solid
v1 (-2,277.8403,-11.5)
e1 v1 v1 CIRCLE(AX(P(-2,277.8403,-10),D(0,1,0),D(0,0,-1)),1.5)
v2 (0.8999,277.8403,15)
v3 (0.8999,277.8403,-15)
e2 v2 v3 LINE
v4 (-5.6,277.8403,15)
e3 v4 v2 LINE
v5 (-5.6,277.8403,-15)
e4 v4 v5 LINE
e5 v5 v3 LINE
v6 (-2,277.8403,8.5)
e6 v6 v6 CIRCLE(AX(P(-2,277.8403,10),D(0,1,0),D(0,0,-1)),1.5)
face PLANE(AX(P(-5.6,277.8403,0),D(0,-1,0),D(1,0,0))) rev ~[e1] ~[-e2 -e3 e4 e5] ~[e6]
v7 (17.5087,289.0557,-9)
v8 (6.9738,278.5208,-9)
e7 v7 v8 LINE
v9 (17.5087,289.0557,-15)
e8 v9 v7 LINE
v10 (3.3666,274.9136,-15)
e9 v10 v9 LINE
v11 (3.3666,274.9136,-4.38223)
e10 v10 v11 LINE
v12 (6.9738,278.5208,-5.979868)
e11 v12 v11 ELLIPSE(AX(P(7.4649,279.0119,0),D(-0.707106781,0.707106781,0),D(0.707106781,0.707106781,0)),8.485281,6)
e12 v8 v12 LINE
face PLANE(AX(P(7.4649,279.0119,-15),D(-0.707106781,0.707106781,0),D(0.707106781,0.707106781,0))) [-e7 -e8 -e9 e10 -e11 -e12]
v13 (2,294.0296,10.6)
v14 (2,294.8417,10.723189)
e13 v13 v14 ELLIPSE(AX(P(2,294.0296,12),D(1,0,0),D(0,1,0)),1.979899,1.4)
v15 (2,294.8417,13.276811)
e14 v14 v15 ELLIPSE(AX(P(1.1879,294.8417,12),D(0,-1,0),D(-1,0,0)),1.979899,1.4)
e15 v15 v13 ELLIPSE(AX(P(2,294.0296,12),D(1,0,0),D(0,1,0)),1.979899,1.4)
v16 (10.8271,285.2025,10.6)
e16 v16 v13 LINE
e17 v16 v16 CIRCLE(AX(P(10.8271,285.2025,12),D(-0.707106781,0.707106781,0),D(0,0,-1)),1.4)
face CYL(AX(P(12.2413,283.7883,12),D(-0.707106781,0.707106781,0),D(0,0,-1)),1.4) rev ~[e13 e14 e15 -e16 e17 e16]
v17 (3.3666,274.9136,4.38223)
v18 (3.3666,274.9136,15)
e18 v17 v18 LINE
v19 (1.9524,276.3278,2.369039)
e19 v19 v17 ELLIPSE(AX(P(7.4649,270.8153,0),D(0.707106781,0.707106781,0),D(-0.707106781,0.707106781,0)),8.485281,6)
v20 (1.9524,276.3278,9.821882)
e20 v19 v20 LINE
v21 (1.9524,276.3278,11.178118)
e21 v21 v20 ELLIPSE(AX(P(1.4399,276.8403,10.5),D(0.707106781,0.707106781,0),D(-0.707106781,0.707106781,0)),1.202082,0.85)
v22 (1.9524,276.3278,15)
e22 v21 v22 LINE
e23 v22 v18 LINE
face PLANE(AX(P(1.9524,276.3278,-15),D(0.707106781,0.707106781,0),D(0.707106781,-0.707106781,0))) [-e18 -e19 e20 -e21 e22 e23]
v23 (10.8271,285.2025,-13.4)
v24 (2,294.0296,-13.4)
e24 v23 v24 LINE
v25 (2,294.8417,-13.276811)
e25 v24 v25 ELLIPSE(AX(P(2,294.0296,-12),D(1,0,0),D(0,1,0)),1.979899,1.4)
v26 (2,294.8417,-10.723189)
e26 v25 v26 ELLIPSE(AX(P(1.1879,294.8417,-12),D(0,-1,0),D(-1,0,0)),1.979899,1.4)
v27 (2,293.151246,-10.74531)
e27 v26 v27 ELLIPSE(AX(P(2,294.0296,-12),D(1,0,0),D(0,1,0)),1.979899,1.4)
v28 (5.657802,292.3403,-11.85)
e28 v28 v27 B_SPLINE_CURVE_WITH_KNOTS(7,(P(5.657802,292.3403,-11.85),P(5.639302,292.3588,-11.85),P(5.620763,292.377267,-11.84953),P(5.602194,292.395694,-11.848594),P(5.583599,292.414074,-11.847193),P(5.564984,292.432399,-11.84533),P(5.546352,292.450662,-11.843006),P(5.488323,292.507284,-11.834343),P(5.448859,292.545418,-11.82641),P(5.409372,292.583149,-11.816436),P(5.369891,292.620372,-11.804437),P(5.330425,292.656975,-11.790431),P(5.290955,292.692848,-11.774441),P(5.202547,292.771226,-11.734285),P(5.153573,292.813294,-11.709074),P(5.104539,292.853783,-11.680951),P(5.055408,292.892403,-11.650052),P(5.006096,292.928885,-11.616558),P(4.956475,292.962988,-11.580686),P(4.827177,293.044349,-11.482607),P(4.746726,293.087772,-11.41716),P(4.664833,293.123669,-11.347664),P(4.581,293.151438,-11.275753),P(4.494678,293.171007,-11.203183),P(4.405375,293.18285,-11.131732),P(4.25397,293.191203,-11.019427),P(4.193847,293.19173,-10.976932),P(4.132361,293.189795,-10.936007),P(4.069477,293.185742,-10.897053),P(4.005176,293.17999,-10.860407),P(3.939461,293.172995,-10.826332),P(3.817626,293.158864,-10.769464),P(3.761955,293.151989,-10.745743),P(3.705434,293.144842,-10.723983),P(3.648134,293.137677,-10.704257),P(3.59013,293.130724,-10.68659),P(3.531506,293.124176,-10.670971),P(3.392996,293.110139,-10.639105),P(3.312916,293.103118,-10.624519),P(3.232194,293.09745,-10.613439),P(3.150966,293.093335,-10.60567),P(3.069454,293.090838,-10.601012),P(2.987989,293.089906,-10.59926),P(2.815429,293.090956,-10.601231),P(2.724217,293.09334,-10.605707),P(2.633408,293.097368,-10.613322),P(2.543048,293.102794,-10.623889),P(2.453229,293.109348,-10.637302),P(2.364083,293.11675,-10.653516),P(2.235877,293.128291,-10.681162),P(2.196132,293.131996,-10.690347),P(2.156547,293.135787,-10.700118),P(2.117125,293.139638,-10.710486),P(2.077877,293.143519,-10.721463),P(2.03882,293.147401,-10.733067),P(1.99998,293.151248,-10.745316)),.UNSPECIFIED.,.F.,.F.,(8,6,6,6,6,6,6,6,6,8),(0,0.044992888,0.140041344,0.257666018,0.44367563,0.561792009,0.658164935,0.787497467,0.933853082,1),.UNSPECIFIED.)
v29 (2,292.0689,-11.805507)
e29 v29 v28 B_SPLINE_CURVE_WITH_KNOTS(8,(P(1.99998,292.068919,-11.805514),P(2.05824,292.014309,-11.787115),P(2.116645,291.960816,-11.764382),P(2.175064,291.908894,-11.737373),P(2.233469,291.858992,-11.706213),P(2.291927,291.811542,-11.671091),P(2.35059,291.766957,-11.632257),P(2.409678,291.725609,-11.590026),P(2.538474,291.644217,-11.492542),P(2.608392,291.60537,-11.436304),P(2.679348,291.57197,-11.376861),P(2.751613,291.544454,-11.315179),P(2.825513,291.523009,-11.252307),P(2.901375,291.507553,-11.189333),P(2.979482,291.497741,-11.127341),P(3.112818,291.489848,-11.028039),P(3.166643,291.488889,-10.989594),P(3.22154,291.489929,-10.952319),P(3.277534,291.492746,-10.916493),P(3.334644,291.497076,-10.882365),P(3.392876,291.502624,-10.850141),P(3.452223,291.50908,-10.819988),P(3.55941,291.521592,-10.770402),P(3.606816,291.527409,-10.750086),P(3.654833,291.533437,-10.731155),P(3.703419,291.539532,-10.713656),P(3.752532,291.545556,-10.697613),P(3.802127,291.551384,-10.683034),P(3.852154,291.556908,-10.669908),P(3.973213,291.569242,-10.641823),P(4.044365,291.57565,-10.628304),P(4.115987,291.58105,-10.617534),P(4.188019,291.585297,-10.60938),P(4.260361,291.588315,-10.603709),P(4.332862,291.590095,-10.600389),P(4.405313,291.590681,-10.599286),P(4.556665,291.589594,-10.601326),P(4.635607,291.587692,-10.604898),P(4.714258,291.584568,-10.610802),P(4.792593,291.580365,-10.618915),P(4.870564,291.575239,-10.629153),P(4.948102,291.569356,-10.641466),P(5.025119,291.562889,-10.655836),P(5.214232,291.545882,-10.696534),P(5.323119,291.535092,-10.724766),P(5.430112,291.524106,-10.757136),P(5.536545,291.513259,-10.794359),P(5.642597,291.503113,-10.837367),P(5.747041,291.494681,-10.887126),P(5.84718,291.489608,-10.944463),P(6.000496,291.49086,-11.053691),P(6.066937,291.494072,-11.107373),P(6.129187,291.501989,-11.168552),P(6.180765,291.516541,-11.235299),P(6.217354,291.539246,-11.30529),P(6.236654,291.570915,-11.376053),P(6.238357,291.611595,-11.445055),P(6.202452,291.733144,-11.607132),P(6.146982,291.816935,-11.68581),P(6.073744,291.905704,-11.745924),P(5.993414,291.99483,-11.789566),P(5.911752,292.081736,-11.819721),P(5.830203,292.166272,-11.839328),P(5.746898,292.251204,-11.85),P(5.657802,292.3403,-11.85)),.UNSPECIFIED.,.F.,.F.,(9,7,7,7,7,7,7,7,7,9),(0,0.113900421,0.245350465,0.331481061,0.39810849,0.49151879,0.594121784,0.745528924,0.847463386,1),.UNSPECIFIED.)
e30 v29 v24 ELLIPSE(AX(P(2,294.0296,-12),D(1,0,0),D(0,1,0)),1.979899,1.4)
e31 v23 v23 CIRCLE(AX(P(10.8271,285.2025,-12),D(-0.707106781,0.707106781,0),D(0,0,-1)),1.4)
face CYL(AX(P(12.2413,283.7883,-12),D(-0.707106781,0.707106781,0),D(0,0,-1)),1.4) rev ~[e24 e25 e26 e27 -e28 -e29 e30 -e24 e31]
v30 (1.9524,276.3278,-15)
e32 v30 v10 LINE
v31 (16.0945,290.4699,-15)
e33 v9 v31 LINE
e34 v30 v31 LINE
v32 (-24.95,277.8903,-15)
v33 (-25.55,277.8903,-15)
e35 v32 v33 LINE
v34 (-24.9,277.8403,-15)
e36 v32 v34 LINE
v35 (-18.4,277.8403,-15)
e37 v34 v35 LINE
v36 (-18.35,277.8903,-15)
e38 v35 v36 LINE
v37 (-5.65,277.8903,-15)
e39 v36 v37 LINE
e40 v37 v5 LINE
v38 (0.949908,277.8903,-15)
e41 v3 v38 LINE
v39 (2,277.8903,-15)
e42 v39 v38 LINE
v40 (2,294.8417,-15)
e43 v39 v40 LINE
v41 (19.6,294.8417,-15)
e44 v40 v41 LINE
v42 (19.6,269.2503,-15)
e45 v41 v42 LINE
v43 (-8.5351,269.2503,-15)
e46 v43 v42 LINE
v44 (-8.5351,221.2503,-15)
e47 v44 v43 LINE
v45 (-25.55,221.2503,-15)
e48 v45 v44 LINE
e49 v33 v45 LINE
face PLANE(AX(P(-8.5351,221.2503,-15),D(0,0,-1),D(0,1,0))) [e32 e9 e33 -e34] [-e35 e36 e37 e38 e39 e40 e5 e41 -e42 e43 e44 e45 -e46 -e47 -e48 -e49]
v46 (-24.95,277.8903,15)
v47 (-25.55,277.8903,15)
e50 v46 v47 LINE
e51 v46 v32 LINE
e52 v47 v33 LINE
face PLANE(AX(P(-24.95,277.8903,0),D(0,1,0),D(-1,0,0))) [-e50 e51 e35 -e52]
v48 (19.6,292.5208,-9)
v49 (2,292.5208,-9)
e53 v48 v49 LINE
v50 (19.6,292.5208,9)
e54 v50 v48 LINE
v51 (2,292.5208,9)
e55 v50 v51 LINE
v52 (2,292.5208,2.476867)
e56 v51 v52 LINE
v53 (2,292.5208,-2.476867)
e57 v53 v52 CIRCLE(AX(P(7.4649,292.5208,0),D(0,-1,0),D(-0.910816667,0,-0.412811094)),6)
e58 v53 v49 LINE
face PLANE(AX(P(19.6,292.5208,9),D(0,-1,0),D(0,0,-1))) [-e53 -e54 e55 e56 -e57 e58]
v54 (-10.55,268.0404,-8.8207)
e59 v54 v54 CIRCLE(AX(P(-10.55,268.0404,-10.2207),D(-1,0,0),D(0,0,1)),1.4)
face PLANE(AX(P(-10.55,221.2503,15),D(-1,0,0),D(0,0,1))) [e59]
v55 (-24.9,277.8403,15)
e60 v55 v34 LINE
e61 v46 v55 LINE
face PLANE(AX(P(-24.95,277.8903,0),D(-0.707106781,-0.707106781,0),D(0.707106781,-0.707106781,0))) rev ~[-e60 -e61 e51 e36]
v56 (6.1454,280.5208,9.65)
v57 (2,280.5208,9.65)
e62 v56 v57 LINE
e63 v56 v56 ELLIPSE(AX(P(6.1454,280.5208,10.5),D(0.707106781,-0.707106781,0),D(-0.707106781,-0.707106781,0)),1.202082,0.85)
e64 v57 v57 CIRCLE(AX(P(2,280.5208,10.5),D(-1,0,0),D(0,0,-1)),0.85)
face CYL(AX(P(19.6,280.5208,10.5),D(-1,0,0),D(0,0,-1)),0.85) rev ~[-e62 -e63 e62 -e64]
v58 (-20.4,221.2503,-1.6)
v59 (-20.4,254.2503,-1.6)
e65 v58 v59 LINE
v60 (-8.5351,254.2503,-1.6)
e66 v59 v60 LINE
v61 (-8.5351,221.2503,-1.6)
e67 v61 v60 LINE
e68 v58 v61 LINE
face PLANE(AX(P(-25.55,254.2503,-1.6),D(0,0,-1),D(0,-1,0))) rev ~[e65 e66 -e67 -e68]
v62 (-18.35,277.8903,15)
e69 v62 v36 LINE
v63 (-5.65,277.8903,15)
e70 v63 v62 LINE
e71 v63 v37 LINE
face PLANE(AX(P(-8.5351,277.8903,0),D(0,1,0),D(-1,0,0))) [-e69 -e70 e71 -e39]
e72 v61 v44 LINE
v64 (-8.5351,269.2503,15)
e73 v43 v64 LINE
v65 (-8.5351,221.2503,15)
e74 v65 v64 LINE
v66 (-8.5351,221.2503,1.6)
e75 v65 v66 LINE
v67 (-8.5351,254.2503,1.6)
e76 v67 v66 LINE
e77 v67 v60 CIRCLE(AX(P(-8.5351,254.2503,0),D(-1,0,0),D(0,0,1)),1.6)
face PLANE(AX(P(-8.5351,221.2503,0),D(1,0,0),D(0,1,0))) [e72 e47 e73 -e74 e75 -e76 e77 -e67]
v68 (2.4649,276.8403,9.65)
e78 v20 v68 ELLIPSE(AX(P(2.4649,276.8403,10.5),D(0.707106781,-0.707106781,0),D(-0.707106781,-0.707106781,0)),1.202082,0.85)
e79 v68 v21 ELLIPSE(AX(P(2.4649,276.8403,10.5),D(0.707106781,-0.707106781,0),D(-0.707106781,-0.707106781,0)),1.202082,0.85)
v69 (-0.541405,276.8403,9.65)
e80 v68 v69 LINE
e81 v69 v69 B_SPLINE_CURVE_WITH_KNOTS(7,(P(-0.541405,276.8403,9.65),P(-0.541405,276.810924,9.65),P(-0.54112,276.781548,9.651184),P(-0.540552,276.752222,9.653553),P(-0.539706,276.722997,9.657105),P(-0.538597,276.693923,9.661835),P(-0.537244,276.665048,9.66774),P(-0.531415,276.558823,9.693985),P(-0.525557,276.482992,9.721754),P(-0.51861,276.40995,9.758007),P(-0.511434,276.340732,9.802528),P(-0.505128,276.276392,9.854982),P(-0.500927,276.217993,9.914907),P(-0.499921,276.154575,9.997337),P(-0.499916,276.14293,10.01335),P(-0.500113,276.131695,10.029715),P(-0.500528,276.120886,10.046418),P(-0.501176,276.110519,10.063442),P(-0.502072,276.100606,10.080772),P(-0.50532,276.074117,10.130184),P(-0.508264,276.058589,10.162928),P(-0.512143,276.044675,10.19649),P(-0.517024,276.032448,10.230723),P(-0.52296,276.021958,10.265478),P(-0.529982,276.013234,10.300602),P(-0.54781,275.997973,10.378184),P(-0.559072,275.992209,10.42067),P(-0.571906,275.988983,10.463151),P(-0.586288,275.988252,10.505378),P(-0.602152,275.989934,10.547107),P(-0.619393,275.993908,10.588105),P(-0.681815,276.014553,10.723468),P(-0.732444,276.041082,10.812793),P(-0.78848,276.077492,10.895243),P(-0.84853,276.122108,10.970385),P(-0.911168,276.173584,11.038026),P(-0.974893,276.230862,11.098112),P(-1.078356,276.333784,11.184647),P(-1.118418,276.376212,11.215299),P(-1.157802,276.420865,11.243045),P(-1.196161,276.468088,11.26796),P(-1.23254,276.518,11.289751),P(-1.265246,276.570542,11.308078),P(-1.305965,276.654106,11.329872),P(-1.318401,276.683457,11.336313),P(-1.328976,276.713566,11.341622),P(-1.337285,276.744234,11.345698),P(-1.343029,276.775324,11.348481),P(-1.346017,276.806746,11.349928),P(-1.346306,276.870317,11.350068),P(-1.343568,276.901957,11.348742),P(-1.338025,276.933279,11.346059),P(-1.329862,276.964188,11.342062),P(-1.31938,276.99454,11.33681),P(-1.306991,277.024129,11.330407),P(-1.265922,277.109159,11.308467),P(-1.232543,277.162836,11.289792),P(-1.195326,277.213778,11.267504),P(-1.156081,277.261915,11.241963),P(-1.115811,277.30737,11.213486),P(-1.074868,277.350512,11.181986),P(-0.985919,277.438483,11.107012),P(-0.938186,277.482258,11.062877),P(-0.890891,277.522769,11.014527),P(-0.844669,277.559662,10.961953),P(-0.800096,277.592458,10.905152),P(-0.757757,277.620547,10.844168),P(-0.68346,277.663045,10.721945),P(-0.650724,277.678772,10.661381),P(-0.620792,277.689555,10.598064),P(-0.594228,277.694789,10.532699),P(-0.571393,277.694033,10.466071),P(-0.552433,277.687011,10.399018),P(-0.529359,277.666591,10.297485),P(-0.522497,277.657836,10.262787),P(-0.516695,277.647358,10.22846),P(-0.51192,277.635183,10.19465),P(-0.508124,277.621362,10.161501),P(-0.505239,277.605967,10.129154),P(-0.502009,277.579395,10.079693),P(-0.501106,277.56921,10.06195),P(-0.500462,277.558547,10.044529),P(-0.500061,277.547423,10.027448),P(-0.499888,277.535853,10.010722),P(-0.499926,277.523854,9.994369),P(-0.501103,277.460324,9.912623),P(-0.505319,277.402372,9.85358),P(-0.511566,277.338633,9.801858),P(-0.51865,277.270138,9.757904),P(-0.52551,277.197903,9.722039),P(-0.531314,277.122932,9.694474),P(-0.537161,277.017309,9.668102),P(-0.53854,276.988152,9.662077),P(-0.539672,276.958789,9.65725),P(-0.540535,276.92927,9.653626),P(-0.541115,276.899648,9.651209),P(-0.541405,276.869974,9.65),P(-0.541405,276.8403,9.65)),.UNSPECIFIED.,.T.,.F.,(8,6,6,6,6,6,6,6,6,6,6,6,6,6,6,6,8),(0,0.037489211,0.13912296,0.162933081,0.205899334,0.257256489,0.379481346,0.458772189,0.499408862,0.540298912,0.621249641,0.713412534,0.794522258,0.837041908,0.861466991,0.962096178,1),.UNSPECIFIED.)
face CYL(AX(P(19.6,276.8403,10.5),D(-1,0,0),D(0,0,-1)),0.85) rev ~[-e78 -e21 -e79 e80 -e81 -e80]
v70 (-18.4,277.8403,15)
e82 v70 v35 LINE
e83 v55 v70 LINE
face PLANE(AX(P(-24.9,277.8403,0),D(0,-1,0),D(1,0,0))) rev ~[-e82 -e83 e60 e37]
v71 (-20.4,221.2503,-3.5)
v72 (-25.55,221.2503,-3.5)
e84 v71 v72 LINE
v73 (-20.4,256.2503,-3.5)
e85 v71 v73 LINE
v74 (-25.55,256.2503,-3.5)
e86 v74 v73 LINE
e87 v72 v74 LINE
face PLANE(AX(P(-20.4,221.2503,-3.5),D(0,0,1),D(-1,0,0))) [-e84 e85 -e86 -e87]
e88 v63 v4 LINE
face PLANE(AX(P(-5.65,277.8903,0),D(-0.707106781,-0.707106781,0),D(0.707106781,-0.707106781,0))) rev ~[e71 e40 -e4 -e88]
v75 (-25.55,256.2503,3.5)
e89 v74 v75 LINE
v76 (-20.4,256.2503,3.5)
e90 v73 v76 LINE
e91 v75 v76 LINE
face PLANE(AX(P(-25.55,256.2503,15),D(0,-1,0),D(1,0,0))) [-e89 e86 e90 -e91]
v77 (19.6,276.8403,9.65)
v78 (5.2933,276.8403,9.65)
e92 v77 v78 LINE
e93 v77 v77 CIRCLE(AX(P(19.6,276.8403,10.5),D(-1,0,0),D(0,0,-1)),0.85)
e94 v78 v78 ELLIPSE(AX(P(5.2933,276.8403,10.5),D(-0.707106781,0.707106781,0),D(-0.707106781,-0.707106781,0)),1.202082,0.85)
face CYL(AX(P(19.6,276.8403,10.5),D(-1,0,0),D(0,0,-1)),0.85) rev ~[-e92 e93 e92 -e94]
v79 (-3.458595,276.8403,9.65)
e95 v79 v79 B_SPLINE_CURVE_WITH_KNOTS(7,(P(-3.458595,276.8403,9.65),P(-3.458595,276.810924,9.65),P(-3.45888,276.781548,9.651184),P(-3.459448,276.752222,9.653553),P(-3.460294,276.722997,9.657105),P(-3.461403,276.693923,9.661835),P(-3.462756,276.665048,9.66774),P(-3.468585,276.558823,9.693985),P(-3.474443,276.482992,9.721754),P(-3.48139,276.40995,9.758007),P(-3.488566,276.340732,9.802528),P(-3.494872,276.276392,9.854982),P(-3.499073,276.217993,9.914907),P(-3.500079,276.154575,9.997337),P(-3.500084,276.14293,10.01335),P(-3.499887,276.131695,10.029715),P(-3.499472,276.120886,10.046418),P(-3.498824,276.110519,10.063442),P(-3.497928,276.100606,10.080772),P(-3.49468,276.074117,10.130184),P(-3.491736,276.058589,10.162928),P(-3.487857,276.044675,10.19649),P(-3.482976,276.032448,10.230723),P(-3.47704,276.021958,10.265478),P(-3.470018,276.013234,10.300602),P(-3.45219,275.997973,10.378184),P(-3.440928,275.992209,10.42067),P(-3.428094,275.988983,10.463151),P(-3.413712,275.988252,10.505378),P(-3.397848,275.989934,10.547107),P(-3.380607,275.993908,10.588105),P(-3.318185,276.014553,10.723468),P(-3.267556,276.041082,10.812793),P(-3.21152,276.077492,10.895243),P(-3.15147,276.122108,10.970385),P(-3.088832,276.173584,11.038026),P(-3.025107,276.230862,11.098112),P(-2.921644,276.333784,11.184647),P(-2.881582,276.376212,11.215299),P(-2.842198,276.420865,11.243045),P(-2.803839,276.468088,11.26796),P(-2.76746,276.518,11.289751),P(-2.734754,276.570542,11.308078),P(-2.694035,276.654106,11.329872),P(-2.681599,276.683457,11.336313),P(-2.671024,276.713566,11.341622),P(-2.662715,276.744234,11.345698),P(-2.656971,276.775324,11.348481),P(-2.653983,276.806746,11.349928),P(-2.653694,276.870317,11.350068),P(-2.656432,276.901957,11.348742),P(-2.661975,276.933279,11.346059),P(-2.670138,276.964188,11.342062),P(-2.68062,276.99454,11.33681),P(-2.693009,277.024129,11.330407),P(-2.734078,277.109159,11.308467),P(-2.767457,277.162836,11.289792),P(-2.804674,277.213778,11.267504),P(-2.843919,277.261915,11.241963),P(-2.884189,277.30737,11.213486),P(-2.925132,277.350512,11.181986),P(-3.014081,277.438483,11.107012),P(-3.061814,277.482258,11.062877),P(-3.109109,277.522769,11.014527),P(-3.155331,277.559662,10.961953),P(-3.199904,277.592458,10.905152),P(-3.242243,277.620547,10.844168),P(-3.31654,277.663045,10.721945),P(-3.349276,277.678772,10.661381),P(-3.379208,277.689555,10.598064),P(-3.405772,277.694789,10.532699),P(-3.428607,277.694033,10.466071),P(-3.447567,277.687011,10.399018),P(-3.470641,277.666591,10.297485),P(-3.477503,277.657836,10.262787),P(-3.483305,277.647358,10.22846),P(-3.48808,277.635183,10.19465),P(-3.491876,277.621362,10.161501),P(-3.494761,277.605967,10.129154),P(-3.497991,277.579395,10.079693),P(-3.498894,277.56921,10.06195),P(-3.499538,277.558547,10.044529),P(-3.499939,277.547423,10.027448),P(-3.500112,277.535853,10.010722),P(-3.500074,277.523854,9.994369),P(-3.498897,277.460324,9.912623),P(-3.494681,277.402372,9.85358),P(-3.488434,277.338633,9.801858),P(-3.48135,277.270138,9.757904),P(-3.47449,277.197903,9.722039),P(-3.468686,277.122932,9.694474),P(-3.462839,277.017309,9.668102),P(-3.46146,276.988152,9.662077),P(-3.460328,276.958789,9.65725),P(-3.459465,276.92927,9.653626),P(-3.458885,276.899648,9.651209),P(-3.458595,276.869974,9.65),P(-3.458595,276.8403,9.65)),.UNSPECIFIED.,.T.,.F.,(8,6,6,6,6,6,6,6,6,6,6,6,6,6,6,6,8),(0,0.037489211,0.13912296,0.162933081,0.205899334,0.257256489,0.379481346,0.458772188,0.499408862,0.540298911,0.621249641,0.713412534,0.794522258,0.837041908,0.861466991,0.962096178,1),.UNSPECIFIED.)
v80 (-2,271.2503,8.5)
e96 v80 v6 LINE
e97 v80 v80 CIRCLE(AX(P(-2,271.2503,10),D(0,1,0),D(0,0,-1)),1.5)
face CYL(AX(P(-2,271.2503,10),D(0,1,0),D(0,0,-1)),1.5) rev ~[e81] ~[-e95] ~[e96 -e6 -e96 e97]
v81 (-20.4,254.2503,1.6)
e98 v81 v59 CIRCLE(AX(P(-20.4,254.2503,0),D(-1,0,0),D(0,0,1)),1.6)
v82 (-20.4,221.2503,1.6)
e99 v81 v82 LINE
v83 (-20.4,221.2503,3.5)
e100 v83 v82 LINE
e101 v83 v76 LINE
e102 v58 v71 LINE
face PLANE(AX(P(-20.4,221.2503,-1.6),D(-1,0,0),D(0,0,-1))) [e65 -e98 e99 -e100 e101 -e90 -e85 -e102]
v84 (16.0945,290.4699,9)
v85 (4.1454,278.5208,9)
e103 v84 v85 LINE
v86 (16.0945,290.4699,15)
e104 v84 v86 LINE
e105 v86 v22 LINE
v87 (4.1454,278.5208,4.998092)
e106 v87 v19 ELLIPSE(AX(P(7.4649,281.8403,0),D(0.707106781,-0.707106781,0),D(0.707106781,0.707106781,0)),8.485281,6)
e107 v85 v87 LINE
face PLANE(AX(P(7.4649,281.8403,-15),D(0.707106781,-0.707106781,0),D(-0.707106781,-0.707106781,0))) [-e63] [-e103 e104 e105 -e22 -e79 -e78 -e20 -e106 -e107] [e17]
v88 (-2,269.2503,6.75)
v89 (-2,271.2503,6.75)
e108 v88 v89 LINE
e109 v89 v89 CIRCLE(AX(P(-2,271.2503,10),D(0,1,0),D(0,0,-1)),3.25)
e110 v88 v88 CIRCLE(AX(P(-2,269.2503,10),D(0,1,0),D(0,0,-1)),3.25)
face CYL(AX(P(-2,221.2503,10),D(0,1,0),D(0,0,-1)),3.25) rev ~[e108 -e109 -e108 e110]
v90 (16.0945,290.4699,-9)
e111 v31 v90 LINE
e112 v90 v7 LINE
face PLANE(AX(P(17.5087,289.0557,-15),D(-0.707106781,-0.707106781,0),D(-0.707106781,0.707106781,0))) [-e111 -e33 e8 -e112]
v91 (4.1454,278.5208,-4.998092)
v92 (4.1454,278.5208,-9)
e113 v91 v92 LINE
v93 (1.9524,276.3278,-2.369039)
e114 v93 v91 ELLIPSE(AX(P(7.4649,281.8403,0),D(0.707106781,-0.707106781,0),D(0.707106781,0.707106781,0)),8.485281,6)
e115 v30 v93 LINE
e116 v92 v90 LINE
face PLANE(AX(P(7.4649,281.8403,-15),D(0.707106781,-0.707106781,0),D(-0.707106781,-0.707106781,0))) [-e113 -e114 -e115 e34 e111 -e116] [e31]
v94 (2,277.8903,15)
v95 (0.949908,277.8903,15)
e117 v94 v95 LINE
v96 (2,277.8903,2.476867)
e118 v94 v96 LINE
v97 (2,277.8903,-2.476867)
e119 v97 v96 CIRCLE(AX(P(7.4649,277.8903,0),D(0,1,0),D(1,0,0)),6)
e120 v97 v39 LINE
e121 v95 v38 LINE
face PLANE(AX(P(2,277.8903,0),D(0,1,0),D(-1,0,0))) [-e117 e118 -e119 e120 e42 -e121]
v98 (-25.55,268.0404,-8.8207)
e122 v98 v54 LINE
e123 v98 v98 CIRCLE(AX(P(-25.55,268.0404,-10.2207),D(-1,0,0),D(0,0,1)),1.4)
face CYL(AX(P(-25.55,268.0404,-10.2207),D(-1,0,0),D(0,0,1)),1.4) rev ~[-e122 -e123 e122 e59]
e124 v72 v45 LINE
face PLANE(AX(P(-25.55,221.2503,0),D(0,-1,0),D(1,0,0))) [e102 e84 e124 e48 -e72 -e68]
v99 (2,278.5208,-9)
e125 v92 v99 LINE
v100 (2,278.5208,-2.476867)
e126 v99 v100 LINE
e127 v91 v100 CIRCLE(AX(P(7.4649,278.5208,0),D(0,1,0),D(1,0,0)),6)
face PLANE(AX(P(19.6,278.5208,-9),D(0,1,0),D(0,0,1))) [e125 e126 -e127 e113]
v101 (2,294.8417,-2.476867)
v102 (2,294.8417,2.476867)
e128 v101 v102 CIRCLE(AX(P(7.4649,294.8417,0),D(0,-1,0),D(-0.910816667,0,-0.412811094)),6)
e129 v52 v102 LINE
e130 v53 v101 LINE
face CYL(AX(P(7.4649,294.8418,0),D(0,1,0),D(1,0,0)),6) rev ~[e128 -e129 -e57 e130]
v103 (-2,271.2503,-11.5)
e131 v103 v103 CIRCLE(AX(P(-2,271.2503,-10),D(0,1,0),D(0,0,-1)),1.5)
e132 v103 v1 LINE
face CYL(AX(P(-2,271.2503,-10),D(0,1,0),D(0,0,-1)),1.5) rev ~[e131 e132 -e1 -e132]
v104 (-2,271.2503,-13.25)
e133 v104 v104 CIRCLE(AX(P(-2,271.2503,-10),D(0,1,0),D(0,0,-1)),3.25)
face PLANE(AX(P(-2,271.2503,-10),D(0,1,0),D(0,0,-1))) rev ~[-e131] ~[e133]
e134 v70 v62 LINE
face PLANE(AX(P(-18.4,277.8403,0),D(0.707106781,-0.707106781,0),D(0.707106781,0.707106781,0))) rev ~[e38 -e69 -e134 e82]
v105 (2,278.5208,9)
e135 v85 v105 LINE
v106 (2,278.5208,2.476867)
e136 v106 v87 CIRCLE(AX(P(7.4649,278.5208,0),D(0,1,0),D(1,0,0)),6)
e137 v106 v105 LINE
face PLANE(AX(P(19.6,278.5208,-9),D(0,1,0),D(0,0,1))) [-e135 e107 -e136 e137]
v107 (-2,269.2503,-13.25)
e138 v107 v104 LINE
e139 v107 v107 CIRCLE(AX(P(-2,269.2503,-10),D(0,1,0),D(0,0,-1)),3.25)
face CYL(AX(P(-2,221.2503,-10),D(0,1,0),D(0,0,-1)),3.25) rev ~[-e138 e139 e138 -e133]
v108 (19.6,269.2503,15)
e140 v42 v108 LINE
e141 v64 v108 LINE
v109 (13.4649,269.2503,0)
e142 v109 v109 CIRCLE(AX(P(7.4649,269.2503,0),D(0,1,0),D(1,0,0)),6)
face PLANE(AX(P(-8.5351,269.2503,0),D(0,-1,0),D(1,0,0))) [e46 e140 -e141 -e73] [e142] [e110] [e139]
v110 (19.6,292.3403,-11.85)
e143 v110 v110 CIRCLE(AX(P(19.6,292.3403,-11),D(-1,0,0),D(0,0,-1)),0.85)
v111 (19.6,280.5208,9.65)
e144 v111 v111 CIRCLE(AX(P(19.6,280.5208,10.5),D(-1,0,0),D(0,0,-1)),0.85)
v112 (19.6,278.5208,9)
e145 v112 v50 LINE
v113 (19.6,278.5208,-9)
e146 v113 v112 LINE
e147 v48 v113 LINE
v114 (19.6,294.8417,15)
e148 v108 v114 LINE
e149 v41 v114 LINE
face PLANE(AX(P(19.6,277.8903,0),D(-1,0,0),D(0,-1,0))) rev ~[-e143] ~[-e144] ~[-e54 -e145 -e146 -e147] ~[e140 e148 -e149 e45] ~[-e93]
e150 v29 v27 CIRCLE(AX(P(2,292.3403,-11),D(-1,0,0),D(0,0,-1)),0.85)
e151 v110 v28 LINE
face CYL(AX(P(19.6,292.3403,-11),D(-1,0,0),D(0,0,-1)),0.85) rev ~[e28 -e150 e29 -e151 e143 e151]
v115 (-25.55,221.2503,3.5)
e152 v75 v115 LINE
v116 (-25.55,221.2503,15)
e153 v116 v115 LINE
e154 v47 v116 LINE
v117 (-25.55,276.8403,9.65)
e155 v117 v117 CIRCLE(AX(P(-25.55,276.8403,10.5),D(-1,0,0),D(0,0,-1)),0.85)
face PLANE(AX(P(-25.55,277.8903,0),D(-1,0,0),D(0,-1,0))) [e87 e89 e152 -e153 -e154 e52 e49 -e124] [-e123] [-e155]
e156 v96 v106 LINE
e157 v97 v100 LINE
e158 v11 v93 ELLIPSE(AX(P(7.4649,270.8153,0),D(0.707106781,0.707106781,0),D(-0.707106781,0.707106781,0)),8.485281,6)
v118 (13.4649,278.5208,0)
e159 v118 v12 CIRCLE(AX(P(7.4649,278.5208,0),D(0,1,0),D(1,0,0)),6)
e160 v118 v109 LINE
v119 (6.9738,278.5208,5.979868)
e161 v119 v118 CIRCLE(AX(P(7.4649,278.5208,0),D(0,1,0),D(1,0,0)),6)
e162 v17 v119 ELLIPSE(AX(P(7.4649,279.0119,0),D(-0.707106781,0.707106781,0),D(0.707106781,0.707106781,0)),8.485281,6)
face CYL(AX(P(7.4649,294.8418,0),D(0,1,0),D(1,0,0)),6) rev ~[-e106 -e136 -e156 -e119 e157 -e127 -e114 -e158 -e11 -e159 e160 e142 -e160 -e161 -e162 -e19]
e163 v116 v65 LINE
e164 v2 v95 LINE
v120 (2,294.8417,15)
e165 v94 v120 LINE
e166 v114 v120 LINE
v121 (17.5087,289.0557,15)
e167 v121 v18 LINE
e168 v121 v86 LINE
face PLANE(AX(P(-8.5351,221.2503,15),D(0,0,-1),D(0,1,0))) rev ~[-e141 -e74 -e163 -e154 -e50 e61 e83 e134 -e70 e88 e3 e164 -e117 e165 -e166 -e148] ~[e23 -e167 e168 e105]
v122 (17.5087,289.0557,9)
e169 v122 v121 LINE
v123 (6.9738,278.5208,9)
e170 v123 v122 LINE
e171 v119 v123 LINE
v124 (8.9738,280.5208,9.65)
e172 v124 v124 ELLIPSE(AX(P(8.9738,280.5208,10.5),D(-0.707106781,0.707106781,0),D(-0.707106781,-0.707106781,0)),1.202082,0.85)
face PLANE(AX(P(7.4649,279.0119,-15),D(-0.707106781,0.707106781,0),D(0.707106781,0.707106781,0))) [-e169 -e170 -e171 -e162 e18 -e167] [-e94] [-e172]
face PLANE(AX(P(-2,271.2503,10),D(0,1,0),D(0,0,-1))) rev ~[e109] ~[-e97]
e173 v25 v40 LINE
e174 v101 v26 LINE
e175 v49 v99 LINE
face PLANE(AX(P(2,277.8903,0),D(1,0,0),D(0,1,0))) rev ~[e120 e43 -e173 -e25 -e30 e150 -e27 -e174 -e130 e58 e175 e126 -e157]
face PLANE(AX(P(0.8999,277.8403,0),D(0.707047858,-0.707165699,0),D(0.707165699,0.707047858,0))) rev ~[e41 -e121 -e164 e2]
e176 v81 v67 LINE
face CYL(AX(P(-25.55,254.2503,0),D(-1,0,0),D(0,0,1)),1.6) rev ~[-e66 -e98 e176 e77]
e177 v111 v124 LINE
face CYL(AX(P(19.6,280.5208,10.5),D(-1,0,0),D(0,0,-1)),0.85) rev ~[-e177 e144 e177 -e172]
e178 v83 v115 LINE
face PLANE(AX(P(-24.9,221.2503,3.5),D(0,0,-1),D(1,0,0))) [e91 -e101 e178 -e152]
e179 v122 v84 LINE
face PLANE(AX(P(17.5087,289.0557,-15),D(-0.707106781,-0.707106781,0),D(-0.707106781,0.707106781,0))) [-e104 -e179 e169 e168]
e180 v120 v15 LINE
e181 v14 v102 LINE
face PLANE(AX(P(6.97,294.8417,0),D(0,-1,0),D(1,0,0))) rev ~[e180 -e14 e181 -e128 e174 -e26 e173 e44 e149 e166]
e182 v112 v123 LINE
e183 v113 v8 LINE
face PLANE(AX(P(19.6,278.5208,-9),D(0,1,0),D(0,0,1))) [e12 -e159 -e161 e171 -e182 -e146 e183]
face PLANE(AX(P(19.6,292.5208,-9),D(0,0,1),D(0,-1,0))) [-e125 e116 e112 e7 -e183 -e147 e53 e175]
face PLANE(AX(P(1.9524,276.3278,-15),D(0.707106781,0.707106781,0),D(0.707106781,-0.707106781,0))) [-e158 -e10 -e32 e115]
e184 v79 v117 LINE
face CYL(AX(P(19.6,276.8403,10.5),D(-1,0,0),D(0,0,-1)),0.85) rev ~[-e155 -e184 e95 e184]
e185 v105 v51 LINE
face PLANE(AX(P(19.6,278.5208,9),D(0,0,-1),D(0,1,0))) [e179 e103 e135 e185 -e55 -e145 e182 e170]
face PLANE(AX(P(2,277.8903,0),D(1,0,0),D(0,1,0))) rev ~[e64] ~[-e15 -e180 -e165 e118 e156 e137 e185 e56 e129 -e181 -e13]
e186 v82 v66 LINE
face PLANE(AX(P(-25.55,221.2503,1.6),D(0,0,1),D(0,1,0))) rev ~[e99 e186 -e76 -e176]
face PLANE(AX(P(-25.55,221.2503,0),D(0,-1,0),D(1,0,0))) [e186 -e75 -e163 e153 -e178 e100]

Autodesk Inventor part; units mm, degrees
ref_plane "YZ Plane" through (0, 0, 0) normal (1, 0, 0) x (0, 1, 0)
ref_plane "XZ Plane" through (0, 0, 0) normal (0, 1, 0) x (-1, 0, 0)
ref_plane "XY Plane" through (0, 0, 0) normal (0, 0, 1) x (1, 0, 0)
ref_plane "Arbeitsebene1" through (-8.5351, 221.2503, 0) normal (0, 0, -1) x (0, 1, 0)
sketch "Skizze1" plane through (-8.5351, 221.2503, 0) normal (0, 0, -1) x (0, 1, 0)
  circle A0 centre (33, 16) radius 1.4 projected
  circle A1 centre (33, 8) radius 1.4 projected
  circle A2 centre (33, 24) radius 1.4 projected
  circle A3 centre (5, 16) radius 1.4 projected
  circle A4 centre (5, 8) radius 1.4 projected
  circle A5 centre (5, 24) radius 1.4 projected
  circle A6 centre (43, 8) radius 1.4 projected
  circle A7 centre (43, 16) radius 1.4 projected
  circle A8 centre (43, 24) radius 1.4 projected
  line L0 (0, 32) -> (0, 0) projected
  line L1 (0, 32) -> (48, 32) projected
  line L2 (48, 0) -> (48, 32) projected
  line L3 (0, 0) -> (48, 0) projected
  arc A9 (65.2166, -9.3098) -> (65.4479, -9.4649) centre (65.4479, -9.2149) ccw projected
  arc A10 (65.2166, -9.3098) -> (64.7173, -8.7321) centre (64.1062, -9.7649) ccw projected
  arc A11 (64.5955, -8.5388) -> (64.7173, -8.7321) centre (64.8445, -8.517) ccw projected
  line L4 (64.5955, -8.5388) -> (64.5653, -8.1931) projected
  arc A12 (64.5653, -8.1931) -> (64.3162, -7.9649) centre (64.3162, -8.2149) ccw projected
  line L5 (64.3162, -7.9649) -> (63.8638, -7.9649) projected
  arc A13 (63.8638, -7.9649) -> (63.6147, -8.1931) centre (63.8638, -8.2149) ccw projected
  line L6 (63.6147, -8.1931) -> (63.5827, -8.5597) projected
  arc A14 (63.4668, -8.7495) -> (63.5827, -8.5597) centre (63.3336, -8.5379) ccw projected
  arc A15 (63.4668, -8.7495) -> (62.9959, -9.3098) centre (64.1062, -9.7649) ccw projected
  arc A16 (62.7646, -9.4649) -> (62.9959, -9.3098) centre (62.7646, -9.2149) ccw projected
  line L7 (62.7646, -9.4649) -> (62.09, -9.4649) projected
  line L8 (62.09, -9.4649) -> (61.59, -8.9649) projected
  line L9 (61.59, -8.9649) -> (61.59, 2.0351) projected
  line L10 (61.59, 2.0351) -> (62.09, 2.5351) projected
  line L11 (62.09, 2.5351) -> (62.7646, 2.5351) projected
  arc A17 (62.9959, 2.3799) -> (62.7646, 2.5351) centre (62.7646, 2.2851) ccw projected
  arc A18 (62.9959, 2.3799) -> (63.4668, 1.8196) centre (64.1062, 2.8351) ccw projected
  arc A19 (63.5827, 1.6298) -> (63.4668, 1.8196) centre (63.3336, 1.608) ccw projected
  line L12 (63.5827, 1.6298) -> (63.6147, 1.2633) projected
  arc A20 (63.6147, 1.2633) -> (63.8638, 1.0351) centre (63.8638, 1.2851) ccw projected
  line L13 (63.8638, 1.0351) -> (64.3162, 1.0351) projected
  arc A21 (64.3162, 1.0351) -> (64.5653, 1.2633) centre (64.3162, 1.2851) ccw projected
  line L14 (64.5653, 1.2633) -> (64.5955, 1.6089) projected
  arc A22 (64.7173, 1.8023) -> (64.5955, 1.6089) centre (64.8445, 1.5871) ccw projected
  arc A23 (64.7173, 1.8023) -> (65.2166, 2.3799) centre (64.1062, 2.8351) ccw projected
  arc A24 (65.4479, 2.5351) -> (65.2166, 2.3799) centre (65.4479, 2.2851) ccw projected
  line L15 (65.4479, 2.5351) -> (66.59, 2.5351) projected
  line L16 (66.59, 2.5351) -> (66.59, 9.1351) projected
  line L17 (66.59, 9.1351) -> (65.99, 9.7351) projected
  line L18 (65.99, 9.7351) -> (58.19, 9.7351) projected
  line L19 (58.19, 9.7351) -> (56.99, 8.5351) projected
  line L20 (56.99, 8.5351) -> (56.99, -15.4649) projected
  line L21 (56.99, -15.4649) -> (58.19, -16.6649) projected
  line L22 (58.19, -16.6649) -> (65.99, -16.6649) projected
  line L23 (65.99, -16.6649) -> (66.59, -16.0649) projected
  line L24 (66.59, -16.0649) -> (66.59, -9.4649) projected
  line L25 (66.59, -9.4649) -> (65.4479, -9.4649) projected
  circle A25 centre (59.585, 3.4351) radius 2.1 projected
  circle A26 centre (59.585, -10.3649) radius 2.1 projected
  line L26 (56.59, 2.9351) -> (56.59, 9.435) projected
  line L27 (56.99, 2.5351) -> (56.59, 2.9351) projected
  arc A27 (64.7172, 1.8023) -> (65.2166, 2.3799) centre (64.1062, 2.8351) ccw projected
  arc A28 (65.4479, 2.5351) -> (65.2166, 2.3799) centre (65.4479, 2.2851) ccw projected
  line L28 (66.59, 2.5351) -> (65.4479, 2.5351) projected
  line L29 (66.59, 9.4351) -> (66.59, 2.5351) projected
  line L30 (65.99, 10.0351) -> (66.59, 9.4351) projected
  line L31 (57.19, 10.0351) -> (65.99, 10.0351) projected
  line L32 (56.59, 9.435) -> (57.19, 10.0351) projected
  line L33 (56.59, 2.9351) -> (56.59, 9.435) projected
  line L34 (56.99, 2.5351) -> (56.59, 2.9351) projected
  line L35 (56.99, -9.4649) -> (56.99, 2.5351) projected
  line L36 (56.59, -9.8649) -> (56.99, -9.4649) projected
  line L37 (56.59, -16.3649) -> (56.59, -9.8649) projected
  line L38 (57.19, -16.9649) -> (56.59, -16.3649) projected
  line L39 (61.79, -16.9649) -> (57.19, -16.9649) projected
  arc A29 (62.59, -16.9649) -> (61.79, -16.9649) centre (62.19, -17.2649) ccw projected
  line L40 (65.99, -16.9649) -> (62.59, -16.9649) projected
  line L41 (66.59, -16.3649) -> (65.99, -16.9649) projected
  line L42 (66.59, -9.4649) -> (66.59, -16.3649) projected
  line L43 (65.4479, -9.4649) -> (66.59, -9.4649) projected
  arc A30 (65.2166, -9.3098) -> (65.4479, -9.4649) centre (65.4479, -9.2149) ccw projected
  arc A31 (65.2166, -9.3098) -> (64.7172, -8.7321) centre (64.1062, -9.7649) ccw projected
  arc A32 (64.5955, -8.5388) -> (64.7172, -8.7321) centre (64.8445, -8.517) ccw projected
  line L44 (64.5653, -8.1931) -> (64.5955, -8.5388) projected
  arc A33 (64.5653, -8.1931) -> (64.3162, -7.9649) centre (64.3162, -8.2149) ccw projected
  line L45 (63.8638, -7.9649) -> (64.3162, -7.9649) projected
  arc A34 (63.8638, -7.9649) -> (63.6147, -8.1931) centre (63.8638, -8.2149) ccw projected
  line L46 (63.5827, -8.5597) -> (63.6147, -8.1931) projected
  arc A35 (63.4668, -8.7495) -> (63.5827, -8.5597) centre (63.3336, -8.5379) ccw projected
  arc A36 (63.4668, -8.7495) -> (62.9959, -9.3098) centre (64.1062, -9.7649) ccw projected
  arc A37 (62.7646, -9.4649) -> (62.9959, -9.3098) centre (62.7646, -9.2149) ccw projected
  line L47 (62.09, -9.4649) -> (62.7646, -9.4649) projected
  line L48 (61.59, -8.9649) -> (62.09, -9.4649) projected
  line L49 (61.59, 2.0351) -> (61.59, -8.9649) projected
  line L50 (62.09, 2.5351) -> (61.59, 2.0351) projected
  line L51 (62.7646, 2.5351) -> (62.09, 2.5351) projected
  arc A38 (62.9959, 2.3799) -> (62.7646, 2.5351) centre (62.7646, 2.2851) ccw projected
  arc A39 (62.9959, 2.3799) -> (63.4668, 1.8196) centre (64.1062, 2.8351) ccw projected
  arc A40 (63.5827, 1.6298) -> (63.4668, 1.8196) centre (63.3336, 1.6081) ccw projected
  line L52 (63.6147, 1.2633) -> (63.5827, 1.6298) projected
  arc A41 (63.6147, 1.2633) -> (63.8638, 1.0351) centre (63.8638, 1.2851) ccw projected
  line L53 (64.3162, 1.0351) -> (63.8638, 1.0351) projected
  arc A42 (64.3162, 1.0351) -> (64.5653, 1.2633) centre (64.3162, 1.2851) ccw projected
  line L54 (64.5955, 1.6089) -> (64.5653, 1.2633) projected
  arc A43 (64.7172, 1.8023) -> (64.5955, 1.6089) centre (64.8445, 1.5871) ccw projected
  line L55 (85.0966, 28.1351) -> (41.8486, 28.1351)
  line L56 (61.6219, 29.1351) -> (61.6219, 34.6351)
  line L57 (66.9191, 29.1351) -> (66.9191, 34.6351)
  line L58 (0, 0) -> (56.64, 0)
  line L59 (56.64, 0) -> (56.64, -17.0149)
  line L60 (56.64, -17.0149) -> (0, -17.0149)
  line L61 (0, -17.0149) -> (0, 0)
  line L62 (56.64, 0) -> (48, 0)
  line L63 (48, 0) -> (48, 28.1351)
  line L64 (48, 28.1351) -> (56.64, 28.1351)
  line L65 (56.64, 28.1351) -> (56.64, 0)
  line L66 (73.5914, 28.1351) -> (56.64, 28.1351)
  line L67 (56.64, 28.1351) -> (56.64, 10.5351)
  line L68 (56.64, 10.5351) -> (73.5914, 10.5351)
  line L69 (73.5914, 10.5351) -> (73.5914, 28.1351)
  line L70 (73.59, 15.5051) -> (73.59, -22.4349)
  line L71 (73.59, 15.5051) -> (73.59, -22.4349)
  point P0 (-221.2503, 8.5351)
  point P1 (56.64, -16.4149)
  point P2 (56.64, -9.8149)
  point P3 (56.64, 2.8851)
  point P4 (56.64, 9.4851)
  dimension "d0" = 0.5
extrude "Extrusion1" add sketch "Skizze1" along normal mid plane 30 contours L3 L58 L59 L36 L37 L38 L60 L61 | L2 L55 L65 L32 L26 L27 L58 | L55 L69 L68 L65
sketch "Skizze2" plane through (-25.55, 221.2503, -15) normal (-1, 0, 0) x (0, 0, 1)
  circle A0 centre (15, 5) radius 1.4 projected
  circle A1 centre (15, 33) radius 1.4 projected
  line L0 (15, 33) -> (15, 0) construction
  line L1 (30, 0) -> (0, 0) projected
  line L2 (13.4, 33) -> (13.4, 0)
  line L3 (16.6, 0) -> (16.6, 33)
  arc A2 (16.6, 33) -> (13.4, 33) centre (15, 33) ccw
  arc A3 (13.4, 0) -> (16.6, 0) centre (15, 0) ccw
  point P0 (15, -221.2503)
  point P1 (15, 16.5)
  dimension "d3" = 3.2
extrude "Extrusion2" cut sketch "Skizze2" against normal blind 30 contours A0 | A1 | A3 L1 | L1 L2 A2 L3
sketch "Skizze3" plane through (19.6, 269.2503, -15) normal (1, 0, 0) x (0, 0, -1)
  arc A0 (0.8555, 0.89) -> (1.8555, -0.11) centre (1.8555, 0.89) ccw projected
  line L0 (1.8555, -0.11) -> (5, -0.11) projected
  line L1 (5, -0.11) -> (5, 25.59) projected
  line L2 (5, 25.59) -> (-4.5277, 25.59) projected
  arc A1 (-4.5277, 25.59) -> (-5.5277, 24.59) centre (-4.5277, 24.59) ccw projected
  line L3 (-5.5277, 24.59) -> (-5.5277, 22.7276) projected
  arc A2 (-6.5277, 21.7276) -> (-5.5277, 22.7276) centre (-6.5277, 22.7276) ccw projected
  line L4 (-6.5277, 21.7276) -> (-25, 21.7276) projected
  line L5 (-25, 21.7276) -> (-25, 10.193) projected
  arc A3 (-26, 9.193) -> (-25, 10.193) centre (-26, 10.193) ccw projected
  line L6 (-26, 9.193) -> (-27, 9.193) projected
  arc A4 (-27, 9.193) -> (-28, 8.193) centre (-27, 8.193) ccw projected
  line L7 (-28, 8.193) -> (-28, 5.6276) projected
  arc A5 (-28, 5.6276) -> (-27, 4.6276) centre (-27, 5.6276) ccw projected
  line L8 (-27, 4.6276) -> (-0.1445, 4.6276) projected
  arc A6 (0.8555, 3.6276) -> (-0.1445, 4.6276) centre (-0.1445, 3.6276) ccw projected
  line L9 (0.8555, 3.6276) -> (0.8555, 0.89) projected
  line L10 (-7.5, 6.59) -> (-23, 6.59) projected
  line L11 (-23, 6.59) -> (-23, 20.09) projected
  line L12 (-23, 20.09) -> (-7.5, 20.09) projected
  line L13 (-7.5, 20.09) -> (-7.5, 6.59) projected
  circle A7 centre (2.5, 2.59) radius 1 projected
  circle A8 centre (-4, 23.09) radius 1 projected
  circle A9 centre (-25.5, 7.59) radius 1 projected
  point P0 (-15, -269.2503)
  point P1 (2.5, 6.2705)
  point P2 (-4, 26.7705)
  point P3 (-25.5, 11.2705)
hole "Bohrung1" at (19.6, 275.5208, -17.5) at (19.6, 296.0208, -11) at (19.6, 276.8403, 10.5) at (19.6, 280.5208, 10.5) at (19.6, 292.3403, -11) direction (-1, 0, 0) diameter 1.7 end through all
sketch "Skizze4" plane through (19.6, 269.2503, -15) normal (1, 0, 0) x (0, 0, -1)
  circle A0 centre (-15, 16.2705) radius 2.6486 projected
  line L0 (-6, 9.2705) -> (-24, 9.2705)
  line L1 (-24, 9.2705) -> (-24, 23.2705)
  line L2 (-24, 23.2705) -> (-6, 23.2705)
  line L3 (-6, 23.2705) -> (-6, 9.2705)
  line L4 (-6, 9.2705) -> (-24, 23.2705) construction
  line L5 (-24, 9.2705) -> (-6, 23.2705) construction
  point P0 (-15, -269.2503)
  dimension "d13" = 18
  dimension "d14" = 14
extrude "Extrusion3" cut sketch "Skizze4" against normal blind 30 contours A0 | L0 L1 L2 L3
sketch "Skizze5" plane through (2, 294.8418, -15) normal (0, 1, 0) x (1, 0, 0)
  circle A0 centre (5.4649, -15) radius 6 projected
  point P0 (-2, -15)
extrude "Extrusion4" cut sketch "Skizze5" against normal blind 30
sketch "Skizze6" plane through (-8.5351, 221.2503, -15) normal (0, 0, -1) x (-1, 0, 0)
  line L0 (-13.5, 41.6) -> (-13.5, 0)
  line L1 (-18.5, 41.6) -> (-18.5, 0)
  line L2 (-29.1351, 68.7705) -> (-34.6351, 68.7705) projected
  line L3 (-29.1351, 66.9191) -> (-34.6351, 66.9191)
  line L4 (-29.1351, 61.6219) -> (-34.6351, 61.6219)
  line L5 (-10, 48) -> (-22, 48) projected
  line L6 (-16, 48) -> (-16, 67.9487)
  line L7 (-24.6296, 69.2196) -> (-10.4875, 55.0775)
  line L8 (-10.4875, 55.0775) -> (-11.9017, 53.6633)
  line L9 (-11.9017, 53.6633) -> (-26.0438, 67.8054)
  line L10 (-26.0438, 67.8054) -> (-24.6296, 69.2196)
  line L11 (-24.6296, 69.2196) -> (-11.9017, 53.6633) construction
  line L12 (-10.4875, 55.0775) -> (-26.0438, 67.8054) construction
  line L13 (-24.6296, 69.2196) -> (-4.6296, 69.2196) construction
  line L14 (-28.0351, 60.59) -> (-35.7351, 60.59)
  line L15 (-29.1351, 57.9414) -> (-34.6351, 57.9414)
  line L16 (-29.1351, 63.2386) -> (-34.6351, 63.2386)
  line L17 (-28.0351, 60.59) -> (-35.7351, 60.59)
  line L18 (-35.7351, 60.59) -> (-16, 60.59)
  point P0 (-8.5351, -221.2503)
  point P1 (-18.2657, 61.4415)
  point P2 (-16, 60.5193)
  dimension "d19" = 5.2972
  dimension "d21" = 20
  dimension "d22" = 45
  dimension "d23" = 2
  dimension "d42" = 0.05
extrude "Extrusion5" cut sketch "Skizze6" against normal blind 30
sketch "Skizze7" plane through (-25.55, 221.2503, 15) normal (0, -1, 0) x (1, 0, 0)
  circle A0 centre (3.55, -25) radius 1.75 projected
  circle A1 centre (3.55, -5) radius 1.75 projected
  circle A2 centre (23.55, -5) radius 1.75 projected
  circle A3 centre (23.55, -25) radius 1.75 projected
  point P0 (25.55, -15)
hole "Bohrung2" at (-2, 221.2503, -10) at (-2, 221.2503, 10) direction (0, 1, 0) diameter 3 end through all counterbore diameter 6.5 counterbore depth 50
sketch "Skizze8" plane through (3.3666, 274.9136, 4.3822) normal (-0.7071, 0.7071, 0) x (-0.7071, -0.7071, 0)
  ellipse E0 centre (-5.7959, -4.3822) end of major axis (-14.2811, -4.3822) minor radius 6 (-5.1013, -10.3621) -> (0, -8.7645) ccw projected
  line L0 (-5.1013, -13.3822) -> (-5.1013, -10.3621) projected
  line L1 (-20, -13.3822) -> (-5.1013, -13.3822) projected
  line L2 (-20, -19.3822) -> (-20, -13.3822) projected
  line L3 (0, -19.3822) -> (-20, -19.3822) projected
  line L4 (0, -19.3822) -> (0, -8.7645) projected
  ellipse E1 centre (-7.9298, 6.1178) end of major axis (-9.1319, 6.1178) minor radius 0.85 projected
  ellipse E2 centre (-5.7959, -4.3822) end of major axis (-14.2811, -4.3822) minor radius 6 (0, 0) -> (-5.1013, 1.5976) ccw projected
  line L5 (0, 0) -> (0, 10.6178) projected
  line L6 (-20, 10.6178) -> (0, 10.6178) projected
  line L7 (-20, 4.6178) -> (-20, 10.6178) projected
  line L8 (-5.1013, 4.6178) -> (-20, 4.6178) projected
  line L9 (-5.1013, 1.5976) -> (-5.1013, 4.6178) projected
  circle A0 centre (-12.5507, 7.6178) radius 1.4
  circle A1 centre (-12.5507, -16.3822) radius 1.4
  line L10 (-5.1013, -13.3822) -> (-5.1013, -10.3621) projected
  line L11 (-20, -13.3822) -> (-5.1013, -13.3822) projected
  line L12 (0, -19.3822) -> (-20, -19.3822) projected
  line L13 (-5.1013, 4.6178) -> (-20, 4.6178) projected
  line L14 (-5.1013, 1.5976) -> (-5.1013, 4.6178) projected
  line L15 (-20, 10.6178) -> (0, 10.6178) projected
  ellipse E3 centre (-5.7959, -4.3822) end of major axis (-14.2811, -4.3822) minor radius 6 (-5.1013, -10.3621) -> (0, -8.7645) ccw projected
  line L16 (-20, -19.3822) -> (-20, -13.3822) projected
  line L17 (0, -19.3822) -> (0, -8.7645) projected
  ellipse E4 centre (-5.7959, -4.3822) end of major axis (-14.2811, -4.3822) minor radius 6 (0, 0) -> (-5.1013, 1.5976) ccw projected
  line L18 (0, 0) -> (0, 10.6178) projected
  line L19 (-20, 4.6178) -> (-20, 10.6178) projected
  ellipse E5 centre (-2.7248, 6.1178) end of major axis (-3.9269, 6.1178) minor radius 0.85 projected
  ellipse E6 centre (-2.7248, 6.1178) end of major axis (-3.9269, 6.1178) minor radius 0.85 projected
  point P0 (196.7739, -4.3822)
  dimension "d33" = 2.8
  dimension "d34" = 2.8
hole "Bohrung3" at (12.2413, 283.7883, 12) at (12.2413, 283.7883, -12) direction (-0.7071, 0.7071, 0) diameter 2.8 end through all
sketch "Skizze10" plane through (-25.55, 221.2503, 15) normal (0, -1, 0) x (1, 0, 0)
  line L0 (17.0149, -16.6) -> (0, -16.6) projected
  line L1 (0, -30) -> (0, -16.6) projected
  line L2 (17.0149, -30) -> (0, -30) projected
  line L3 (17.0149, -16.6) -> (17.0149, -30) projected
  line L4 (0.65, 1.2) -> (0.65, -31.2) projected
  line L5 (0, -13.4) -> (17.0149, -13.4) projected
  line L6 (17.0149, 0) -> (17.0149, -13.4) projected
  line L7 (0, 0) -> (17.0149, 0) projected
  line L8 (0, -13.4) -> (0, 0) projected
  line L9 (-3.85, -11.5) -> (5.15, -11.5)
  line L10 (5.15, -11.5) -> (5.15, -18.5)
  line L11 (5.15, -18.5) -> (-3.85, -18.5)
  line L12 (-3.85, -18.5) -> (-3.85, -11.5)
  line L13 (-3.85, -11.5) -> (5.15, -18.5) construction
  line L14 (5.15, -11.5) -> (-3.85, -18.5) construction
  point P0 (25.55, -15)
  point P1 (0.65, -15)
  dimension "d46" = 9
  dimension "d47" = 7
extrude "Extrusion7" cut sketch "Skizze10" against normal blind 35 contours L10 L11 L4 L0 | L0 L4 L5 L10 | L4 L11 L1 L0 | L0 L1 L11 L12 L9 L8 L5 L4 | L5 L4 L9 L10 | L5 L8 L9 L4
sketch "Skizze11" plane through (-25.55, 221.2503, 15) normal (-1, 0, 0) x (0, 0, 1)
  circle A0 centre (-47.5, 46.7901) radius 1.4 projected
  circle A1 centre (-25.2207, 46.7901) radius 1.4
  point P0 (-15, -221.2503)
  dimension "d50" = 2.8
extrude "Extrusion8" cut sketch "Skizze11" against normal blind 15 contours A1
properties part number "30_XYTabel_Aliexpress_cellSTORM_lasermount"
